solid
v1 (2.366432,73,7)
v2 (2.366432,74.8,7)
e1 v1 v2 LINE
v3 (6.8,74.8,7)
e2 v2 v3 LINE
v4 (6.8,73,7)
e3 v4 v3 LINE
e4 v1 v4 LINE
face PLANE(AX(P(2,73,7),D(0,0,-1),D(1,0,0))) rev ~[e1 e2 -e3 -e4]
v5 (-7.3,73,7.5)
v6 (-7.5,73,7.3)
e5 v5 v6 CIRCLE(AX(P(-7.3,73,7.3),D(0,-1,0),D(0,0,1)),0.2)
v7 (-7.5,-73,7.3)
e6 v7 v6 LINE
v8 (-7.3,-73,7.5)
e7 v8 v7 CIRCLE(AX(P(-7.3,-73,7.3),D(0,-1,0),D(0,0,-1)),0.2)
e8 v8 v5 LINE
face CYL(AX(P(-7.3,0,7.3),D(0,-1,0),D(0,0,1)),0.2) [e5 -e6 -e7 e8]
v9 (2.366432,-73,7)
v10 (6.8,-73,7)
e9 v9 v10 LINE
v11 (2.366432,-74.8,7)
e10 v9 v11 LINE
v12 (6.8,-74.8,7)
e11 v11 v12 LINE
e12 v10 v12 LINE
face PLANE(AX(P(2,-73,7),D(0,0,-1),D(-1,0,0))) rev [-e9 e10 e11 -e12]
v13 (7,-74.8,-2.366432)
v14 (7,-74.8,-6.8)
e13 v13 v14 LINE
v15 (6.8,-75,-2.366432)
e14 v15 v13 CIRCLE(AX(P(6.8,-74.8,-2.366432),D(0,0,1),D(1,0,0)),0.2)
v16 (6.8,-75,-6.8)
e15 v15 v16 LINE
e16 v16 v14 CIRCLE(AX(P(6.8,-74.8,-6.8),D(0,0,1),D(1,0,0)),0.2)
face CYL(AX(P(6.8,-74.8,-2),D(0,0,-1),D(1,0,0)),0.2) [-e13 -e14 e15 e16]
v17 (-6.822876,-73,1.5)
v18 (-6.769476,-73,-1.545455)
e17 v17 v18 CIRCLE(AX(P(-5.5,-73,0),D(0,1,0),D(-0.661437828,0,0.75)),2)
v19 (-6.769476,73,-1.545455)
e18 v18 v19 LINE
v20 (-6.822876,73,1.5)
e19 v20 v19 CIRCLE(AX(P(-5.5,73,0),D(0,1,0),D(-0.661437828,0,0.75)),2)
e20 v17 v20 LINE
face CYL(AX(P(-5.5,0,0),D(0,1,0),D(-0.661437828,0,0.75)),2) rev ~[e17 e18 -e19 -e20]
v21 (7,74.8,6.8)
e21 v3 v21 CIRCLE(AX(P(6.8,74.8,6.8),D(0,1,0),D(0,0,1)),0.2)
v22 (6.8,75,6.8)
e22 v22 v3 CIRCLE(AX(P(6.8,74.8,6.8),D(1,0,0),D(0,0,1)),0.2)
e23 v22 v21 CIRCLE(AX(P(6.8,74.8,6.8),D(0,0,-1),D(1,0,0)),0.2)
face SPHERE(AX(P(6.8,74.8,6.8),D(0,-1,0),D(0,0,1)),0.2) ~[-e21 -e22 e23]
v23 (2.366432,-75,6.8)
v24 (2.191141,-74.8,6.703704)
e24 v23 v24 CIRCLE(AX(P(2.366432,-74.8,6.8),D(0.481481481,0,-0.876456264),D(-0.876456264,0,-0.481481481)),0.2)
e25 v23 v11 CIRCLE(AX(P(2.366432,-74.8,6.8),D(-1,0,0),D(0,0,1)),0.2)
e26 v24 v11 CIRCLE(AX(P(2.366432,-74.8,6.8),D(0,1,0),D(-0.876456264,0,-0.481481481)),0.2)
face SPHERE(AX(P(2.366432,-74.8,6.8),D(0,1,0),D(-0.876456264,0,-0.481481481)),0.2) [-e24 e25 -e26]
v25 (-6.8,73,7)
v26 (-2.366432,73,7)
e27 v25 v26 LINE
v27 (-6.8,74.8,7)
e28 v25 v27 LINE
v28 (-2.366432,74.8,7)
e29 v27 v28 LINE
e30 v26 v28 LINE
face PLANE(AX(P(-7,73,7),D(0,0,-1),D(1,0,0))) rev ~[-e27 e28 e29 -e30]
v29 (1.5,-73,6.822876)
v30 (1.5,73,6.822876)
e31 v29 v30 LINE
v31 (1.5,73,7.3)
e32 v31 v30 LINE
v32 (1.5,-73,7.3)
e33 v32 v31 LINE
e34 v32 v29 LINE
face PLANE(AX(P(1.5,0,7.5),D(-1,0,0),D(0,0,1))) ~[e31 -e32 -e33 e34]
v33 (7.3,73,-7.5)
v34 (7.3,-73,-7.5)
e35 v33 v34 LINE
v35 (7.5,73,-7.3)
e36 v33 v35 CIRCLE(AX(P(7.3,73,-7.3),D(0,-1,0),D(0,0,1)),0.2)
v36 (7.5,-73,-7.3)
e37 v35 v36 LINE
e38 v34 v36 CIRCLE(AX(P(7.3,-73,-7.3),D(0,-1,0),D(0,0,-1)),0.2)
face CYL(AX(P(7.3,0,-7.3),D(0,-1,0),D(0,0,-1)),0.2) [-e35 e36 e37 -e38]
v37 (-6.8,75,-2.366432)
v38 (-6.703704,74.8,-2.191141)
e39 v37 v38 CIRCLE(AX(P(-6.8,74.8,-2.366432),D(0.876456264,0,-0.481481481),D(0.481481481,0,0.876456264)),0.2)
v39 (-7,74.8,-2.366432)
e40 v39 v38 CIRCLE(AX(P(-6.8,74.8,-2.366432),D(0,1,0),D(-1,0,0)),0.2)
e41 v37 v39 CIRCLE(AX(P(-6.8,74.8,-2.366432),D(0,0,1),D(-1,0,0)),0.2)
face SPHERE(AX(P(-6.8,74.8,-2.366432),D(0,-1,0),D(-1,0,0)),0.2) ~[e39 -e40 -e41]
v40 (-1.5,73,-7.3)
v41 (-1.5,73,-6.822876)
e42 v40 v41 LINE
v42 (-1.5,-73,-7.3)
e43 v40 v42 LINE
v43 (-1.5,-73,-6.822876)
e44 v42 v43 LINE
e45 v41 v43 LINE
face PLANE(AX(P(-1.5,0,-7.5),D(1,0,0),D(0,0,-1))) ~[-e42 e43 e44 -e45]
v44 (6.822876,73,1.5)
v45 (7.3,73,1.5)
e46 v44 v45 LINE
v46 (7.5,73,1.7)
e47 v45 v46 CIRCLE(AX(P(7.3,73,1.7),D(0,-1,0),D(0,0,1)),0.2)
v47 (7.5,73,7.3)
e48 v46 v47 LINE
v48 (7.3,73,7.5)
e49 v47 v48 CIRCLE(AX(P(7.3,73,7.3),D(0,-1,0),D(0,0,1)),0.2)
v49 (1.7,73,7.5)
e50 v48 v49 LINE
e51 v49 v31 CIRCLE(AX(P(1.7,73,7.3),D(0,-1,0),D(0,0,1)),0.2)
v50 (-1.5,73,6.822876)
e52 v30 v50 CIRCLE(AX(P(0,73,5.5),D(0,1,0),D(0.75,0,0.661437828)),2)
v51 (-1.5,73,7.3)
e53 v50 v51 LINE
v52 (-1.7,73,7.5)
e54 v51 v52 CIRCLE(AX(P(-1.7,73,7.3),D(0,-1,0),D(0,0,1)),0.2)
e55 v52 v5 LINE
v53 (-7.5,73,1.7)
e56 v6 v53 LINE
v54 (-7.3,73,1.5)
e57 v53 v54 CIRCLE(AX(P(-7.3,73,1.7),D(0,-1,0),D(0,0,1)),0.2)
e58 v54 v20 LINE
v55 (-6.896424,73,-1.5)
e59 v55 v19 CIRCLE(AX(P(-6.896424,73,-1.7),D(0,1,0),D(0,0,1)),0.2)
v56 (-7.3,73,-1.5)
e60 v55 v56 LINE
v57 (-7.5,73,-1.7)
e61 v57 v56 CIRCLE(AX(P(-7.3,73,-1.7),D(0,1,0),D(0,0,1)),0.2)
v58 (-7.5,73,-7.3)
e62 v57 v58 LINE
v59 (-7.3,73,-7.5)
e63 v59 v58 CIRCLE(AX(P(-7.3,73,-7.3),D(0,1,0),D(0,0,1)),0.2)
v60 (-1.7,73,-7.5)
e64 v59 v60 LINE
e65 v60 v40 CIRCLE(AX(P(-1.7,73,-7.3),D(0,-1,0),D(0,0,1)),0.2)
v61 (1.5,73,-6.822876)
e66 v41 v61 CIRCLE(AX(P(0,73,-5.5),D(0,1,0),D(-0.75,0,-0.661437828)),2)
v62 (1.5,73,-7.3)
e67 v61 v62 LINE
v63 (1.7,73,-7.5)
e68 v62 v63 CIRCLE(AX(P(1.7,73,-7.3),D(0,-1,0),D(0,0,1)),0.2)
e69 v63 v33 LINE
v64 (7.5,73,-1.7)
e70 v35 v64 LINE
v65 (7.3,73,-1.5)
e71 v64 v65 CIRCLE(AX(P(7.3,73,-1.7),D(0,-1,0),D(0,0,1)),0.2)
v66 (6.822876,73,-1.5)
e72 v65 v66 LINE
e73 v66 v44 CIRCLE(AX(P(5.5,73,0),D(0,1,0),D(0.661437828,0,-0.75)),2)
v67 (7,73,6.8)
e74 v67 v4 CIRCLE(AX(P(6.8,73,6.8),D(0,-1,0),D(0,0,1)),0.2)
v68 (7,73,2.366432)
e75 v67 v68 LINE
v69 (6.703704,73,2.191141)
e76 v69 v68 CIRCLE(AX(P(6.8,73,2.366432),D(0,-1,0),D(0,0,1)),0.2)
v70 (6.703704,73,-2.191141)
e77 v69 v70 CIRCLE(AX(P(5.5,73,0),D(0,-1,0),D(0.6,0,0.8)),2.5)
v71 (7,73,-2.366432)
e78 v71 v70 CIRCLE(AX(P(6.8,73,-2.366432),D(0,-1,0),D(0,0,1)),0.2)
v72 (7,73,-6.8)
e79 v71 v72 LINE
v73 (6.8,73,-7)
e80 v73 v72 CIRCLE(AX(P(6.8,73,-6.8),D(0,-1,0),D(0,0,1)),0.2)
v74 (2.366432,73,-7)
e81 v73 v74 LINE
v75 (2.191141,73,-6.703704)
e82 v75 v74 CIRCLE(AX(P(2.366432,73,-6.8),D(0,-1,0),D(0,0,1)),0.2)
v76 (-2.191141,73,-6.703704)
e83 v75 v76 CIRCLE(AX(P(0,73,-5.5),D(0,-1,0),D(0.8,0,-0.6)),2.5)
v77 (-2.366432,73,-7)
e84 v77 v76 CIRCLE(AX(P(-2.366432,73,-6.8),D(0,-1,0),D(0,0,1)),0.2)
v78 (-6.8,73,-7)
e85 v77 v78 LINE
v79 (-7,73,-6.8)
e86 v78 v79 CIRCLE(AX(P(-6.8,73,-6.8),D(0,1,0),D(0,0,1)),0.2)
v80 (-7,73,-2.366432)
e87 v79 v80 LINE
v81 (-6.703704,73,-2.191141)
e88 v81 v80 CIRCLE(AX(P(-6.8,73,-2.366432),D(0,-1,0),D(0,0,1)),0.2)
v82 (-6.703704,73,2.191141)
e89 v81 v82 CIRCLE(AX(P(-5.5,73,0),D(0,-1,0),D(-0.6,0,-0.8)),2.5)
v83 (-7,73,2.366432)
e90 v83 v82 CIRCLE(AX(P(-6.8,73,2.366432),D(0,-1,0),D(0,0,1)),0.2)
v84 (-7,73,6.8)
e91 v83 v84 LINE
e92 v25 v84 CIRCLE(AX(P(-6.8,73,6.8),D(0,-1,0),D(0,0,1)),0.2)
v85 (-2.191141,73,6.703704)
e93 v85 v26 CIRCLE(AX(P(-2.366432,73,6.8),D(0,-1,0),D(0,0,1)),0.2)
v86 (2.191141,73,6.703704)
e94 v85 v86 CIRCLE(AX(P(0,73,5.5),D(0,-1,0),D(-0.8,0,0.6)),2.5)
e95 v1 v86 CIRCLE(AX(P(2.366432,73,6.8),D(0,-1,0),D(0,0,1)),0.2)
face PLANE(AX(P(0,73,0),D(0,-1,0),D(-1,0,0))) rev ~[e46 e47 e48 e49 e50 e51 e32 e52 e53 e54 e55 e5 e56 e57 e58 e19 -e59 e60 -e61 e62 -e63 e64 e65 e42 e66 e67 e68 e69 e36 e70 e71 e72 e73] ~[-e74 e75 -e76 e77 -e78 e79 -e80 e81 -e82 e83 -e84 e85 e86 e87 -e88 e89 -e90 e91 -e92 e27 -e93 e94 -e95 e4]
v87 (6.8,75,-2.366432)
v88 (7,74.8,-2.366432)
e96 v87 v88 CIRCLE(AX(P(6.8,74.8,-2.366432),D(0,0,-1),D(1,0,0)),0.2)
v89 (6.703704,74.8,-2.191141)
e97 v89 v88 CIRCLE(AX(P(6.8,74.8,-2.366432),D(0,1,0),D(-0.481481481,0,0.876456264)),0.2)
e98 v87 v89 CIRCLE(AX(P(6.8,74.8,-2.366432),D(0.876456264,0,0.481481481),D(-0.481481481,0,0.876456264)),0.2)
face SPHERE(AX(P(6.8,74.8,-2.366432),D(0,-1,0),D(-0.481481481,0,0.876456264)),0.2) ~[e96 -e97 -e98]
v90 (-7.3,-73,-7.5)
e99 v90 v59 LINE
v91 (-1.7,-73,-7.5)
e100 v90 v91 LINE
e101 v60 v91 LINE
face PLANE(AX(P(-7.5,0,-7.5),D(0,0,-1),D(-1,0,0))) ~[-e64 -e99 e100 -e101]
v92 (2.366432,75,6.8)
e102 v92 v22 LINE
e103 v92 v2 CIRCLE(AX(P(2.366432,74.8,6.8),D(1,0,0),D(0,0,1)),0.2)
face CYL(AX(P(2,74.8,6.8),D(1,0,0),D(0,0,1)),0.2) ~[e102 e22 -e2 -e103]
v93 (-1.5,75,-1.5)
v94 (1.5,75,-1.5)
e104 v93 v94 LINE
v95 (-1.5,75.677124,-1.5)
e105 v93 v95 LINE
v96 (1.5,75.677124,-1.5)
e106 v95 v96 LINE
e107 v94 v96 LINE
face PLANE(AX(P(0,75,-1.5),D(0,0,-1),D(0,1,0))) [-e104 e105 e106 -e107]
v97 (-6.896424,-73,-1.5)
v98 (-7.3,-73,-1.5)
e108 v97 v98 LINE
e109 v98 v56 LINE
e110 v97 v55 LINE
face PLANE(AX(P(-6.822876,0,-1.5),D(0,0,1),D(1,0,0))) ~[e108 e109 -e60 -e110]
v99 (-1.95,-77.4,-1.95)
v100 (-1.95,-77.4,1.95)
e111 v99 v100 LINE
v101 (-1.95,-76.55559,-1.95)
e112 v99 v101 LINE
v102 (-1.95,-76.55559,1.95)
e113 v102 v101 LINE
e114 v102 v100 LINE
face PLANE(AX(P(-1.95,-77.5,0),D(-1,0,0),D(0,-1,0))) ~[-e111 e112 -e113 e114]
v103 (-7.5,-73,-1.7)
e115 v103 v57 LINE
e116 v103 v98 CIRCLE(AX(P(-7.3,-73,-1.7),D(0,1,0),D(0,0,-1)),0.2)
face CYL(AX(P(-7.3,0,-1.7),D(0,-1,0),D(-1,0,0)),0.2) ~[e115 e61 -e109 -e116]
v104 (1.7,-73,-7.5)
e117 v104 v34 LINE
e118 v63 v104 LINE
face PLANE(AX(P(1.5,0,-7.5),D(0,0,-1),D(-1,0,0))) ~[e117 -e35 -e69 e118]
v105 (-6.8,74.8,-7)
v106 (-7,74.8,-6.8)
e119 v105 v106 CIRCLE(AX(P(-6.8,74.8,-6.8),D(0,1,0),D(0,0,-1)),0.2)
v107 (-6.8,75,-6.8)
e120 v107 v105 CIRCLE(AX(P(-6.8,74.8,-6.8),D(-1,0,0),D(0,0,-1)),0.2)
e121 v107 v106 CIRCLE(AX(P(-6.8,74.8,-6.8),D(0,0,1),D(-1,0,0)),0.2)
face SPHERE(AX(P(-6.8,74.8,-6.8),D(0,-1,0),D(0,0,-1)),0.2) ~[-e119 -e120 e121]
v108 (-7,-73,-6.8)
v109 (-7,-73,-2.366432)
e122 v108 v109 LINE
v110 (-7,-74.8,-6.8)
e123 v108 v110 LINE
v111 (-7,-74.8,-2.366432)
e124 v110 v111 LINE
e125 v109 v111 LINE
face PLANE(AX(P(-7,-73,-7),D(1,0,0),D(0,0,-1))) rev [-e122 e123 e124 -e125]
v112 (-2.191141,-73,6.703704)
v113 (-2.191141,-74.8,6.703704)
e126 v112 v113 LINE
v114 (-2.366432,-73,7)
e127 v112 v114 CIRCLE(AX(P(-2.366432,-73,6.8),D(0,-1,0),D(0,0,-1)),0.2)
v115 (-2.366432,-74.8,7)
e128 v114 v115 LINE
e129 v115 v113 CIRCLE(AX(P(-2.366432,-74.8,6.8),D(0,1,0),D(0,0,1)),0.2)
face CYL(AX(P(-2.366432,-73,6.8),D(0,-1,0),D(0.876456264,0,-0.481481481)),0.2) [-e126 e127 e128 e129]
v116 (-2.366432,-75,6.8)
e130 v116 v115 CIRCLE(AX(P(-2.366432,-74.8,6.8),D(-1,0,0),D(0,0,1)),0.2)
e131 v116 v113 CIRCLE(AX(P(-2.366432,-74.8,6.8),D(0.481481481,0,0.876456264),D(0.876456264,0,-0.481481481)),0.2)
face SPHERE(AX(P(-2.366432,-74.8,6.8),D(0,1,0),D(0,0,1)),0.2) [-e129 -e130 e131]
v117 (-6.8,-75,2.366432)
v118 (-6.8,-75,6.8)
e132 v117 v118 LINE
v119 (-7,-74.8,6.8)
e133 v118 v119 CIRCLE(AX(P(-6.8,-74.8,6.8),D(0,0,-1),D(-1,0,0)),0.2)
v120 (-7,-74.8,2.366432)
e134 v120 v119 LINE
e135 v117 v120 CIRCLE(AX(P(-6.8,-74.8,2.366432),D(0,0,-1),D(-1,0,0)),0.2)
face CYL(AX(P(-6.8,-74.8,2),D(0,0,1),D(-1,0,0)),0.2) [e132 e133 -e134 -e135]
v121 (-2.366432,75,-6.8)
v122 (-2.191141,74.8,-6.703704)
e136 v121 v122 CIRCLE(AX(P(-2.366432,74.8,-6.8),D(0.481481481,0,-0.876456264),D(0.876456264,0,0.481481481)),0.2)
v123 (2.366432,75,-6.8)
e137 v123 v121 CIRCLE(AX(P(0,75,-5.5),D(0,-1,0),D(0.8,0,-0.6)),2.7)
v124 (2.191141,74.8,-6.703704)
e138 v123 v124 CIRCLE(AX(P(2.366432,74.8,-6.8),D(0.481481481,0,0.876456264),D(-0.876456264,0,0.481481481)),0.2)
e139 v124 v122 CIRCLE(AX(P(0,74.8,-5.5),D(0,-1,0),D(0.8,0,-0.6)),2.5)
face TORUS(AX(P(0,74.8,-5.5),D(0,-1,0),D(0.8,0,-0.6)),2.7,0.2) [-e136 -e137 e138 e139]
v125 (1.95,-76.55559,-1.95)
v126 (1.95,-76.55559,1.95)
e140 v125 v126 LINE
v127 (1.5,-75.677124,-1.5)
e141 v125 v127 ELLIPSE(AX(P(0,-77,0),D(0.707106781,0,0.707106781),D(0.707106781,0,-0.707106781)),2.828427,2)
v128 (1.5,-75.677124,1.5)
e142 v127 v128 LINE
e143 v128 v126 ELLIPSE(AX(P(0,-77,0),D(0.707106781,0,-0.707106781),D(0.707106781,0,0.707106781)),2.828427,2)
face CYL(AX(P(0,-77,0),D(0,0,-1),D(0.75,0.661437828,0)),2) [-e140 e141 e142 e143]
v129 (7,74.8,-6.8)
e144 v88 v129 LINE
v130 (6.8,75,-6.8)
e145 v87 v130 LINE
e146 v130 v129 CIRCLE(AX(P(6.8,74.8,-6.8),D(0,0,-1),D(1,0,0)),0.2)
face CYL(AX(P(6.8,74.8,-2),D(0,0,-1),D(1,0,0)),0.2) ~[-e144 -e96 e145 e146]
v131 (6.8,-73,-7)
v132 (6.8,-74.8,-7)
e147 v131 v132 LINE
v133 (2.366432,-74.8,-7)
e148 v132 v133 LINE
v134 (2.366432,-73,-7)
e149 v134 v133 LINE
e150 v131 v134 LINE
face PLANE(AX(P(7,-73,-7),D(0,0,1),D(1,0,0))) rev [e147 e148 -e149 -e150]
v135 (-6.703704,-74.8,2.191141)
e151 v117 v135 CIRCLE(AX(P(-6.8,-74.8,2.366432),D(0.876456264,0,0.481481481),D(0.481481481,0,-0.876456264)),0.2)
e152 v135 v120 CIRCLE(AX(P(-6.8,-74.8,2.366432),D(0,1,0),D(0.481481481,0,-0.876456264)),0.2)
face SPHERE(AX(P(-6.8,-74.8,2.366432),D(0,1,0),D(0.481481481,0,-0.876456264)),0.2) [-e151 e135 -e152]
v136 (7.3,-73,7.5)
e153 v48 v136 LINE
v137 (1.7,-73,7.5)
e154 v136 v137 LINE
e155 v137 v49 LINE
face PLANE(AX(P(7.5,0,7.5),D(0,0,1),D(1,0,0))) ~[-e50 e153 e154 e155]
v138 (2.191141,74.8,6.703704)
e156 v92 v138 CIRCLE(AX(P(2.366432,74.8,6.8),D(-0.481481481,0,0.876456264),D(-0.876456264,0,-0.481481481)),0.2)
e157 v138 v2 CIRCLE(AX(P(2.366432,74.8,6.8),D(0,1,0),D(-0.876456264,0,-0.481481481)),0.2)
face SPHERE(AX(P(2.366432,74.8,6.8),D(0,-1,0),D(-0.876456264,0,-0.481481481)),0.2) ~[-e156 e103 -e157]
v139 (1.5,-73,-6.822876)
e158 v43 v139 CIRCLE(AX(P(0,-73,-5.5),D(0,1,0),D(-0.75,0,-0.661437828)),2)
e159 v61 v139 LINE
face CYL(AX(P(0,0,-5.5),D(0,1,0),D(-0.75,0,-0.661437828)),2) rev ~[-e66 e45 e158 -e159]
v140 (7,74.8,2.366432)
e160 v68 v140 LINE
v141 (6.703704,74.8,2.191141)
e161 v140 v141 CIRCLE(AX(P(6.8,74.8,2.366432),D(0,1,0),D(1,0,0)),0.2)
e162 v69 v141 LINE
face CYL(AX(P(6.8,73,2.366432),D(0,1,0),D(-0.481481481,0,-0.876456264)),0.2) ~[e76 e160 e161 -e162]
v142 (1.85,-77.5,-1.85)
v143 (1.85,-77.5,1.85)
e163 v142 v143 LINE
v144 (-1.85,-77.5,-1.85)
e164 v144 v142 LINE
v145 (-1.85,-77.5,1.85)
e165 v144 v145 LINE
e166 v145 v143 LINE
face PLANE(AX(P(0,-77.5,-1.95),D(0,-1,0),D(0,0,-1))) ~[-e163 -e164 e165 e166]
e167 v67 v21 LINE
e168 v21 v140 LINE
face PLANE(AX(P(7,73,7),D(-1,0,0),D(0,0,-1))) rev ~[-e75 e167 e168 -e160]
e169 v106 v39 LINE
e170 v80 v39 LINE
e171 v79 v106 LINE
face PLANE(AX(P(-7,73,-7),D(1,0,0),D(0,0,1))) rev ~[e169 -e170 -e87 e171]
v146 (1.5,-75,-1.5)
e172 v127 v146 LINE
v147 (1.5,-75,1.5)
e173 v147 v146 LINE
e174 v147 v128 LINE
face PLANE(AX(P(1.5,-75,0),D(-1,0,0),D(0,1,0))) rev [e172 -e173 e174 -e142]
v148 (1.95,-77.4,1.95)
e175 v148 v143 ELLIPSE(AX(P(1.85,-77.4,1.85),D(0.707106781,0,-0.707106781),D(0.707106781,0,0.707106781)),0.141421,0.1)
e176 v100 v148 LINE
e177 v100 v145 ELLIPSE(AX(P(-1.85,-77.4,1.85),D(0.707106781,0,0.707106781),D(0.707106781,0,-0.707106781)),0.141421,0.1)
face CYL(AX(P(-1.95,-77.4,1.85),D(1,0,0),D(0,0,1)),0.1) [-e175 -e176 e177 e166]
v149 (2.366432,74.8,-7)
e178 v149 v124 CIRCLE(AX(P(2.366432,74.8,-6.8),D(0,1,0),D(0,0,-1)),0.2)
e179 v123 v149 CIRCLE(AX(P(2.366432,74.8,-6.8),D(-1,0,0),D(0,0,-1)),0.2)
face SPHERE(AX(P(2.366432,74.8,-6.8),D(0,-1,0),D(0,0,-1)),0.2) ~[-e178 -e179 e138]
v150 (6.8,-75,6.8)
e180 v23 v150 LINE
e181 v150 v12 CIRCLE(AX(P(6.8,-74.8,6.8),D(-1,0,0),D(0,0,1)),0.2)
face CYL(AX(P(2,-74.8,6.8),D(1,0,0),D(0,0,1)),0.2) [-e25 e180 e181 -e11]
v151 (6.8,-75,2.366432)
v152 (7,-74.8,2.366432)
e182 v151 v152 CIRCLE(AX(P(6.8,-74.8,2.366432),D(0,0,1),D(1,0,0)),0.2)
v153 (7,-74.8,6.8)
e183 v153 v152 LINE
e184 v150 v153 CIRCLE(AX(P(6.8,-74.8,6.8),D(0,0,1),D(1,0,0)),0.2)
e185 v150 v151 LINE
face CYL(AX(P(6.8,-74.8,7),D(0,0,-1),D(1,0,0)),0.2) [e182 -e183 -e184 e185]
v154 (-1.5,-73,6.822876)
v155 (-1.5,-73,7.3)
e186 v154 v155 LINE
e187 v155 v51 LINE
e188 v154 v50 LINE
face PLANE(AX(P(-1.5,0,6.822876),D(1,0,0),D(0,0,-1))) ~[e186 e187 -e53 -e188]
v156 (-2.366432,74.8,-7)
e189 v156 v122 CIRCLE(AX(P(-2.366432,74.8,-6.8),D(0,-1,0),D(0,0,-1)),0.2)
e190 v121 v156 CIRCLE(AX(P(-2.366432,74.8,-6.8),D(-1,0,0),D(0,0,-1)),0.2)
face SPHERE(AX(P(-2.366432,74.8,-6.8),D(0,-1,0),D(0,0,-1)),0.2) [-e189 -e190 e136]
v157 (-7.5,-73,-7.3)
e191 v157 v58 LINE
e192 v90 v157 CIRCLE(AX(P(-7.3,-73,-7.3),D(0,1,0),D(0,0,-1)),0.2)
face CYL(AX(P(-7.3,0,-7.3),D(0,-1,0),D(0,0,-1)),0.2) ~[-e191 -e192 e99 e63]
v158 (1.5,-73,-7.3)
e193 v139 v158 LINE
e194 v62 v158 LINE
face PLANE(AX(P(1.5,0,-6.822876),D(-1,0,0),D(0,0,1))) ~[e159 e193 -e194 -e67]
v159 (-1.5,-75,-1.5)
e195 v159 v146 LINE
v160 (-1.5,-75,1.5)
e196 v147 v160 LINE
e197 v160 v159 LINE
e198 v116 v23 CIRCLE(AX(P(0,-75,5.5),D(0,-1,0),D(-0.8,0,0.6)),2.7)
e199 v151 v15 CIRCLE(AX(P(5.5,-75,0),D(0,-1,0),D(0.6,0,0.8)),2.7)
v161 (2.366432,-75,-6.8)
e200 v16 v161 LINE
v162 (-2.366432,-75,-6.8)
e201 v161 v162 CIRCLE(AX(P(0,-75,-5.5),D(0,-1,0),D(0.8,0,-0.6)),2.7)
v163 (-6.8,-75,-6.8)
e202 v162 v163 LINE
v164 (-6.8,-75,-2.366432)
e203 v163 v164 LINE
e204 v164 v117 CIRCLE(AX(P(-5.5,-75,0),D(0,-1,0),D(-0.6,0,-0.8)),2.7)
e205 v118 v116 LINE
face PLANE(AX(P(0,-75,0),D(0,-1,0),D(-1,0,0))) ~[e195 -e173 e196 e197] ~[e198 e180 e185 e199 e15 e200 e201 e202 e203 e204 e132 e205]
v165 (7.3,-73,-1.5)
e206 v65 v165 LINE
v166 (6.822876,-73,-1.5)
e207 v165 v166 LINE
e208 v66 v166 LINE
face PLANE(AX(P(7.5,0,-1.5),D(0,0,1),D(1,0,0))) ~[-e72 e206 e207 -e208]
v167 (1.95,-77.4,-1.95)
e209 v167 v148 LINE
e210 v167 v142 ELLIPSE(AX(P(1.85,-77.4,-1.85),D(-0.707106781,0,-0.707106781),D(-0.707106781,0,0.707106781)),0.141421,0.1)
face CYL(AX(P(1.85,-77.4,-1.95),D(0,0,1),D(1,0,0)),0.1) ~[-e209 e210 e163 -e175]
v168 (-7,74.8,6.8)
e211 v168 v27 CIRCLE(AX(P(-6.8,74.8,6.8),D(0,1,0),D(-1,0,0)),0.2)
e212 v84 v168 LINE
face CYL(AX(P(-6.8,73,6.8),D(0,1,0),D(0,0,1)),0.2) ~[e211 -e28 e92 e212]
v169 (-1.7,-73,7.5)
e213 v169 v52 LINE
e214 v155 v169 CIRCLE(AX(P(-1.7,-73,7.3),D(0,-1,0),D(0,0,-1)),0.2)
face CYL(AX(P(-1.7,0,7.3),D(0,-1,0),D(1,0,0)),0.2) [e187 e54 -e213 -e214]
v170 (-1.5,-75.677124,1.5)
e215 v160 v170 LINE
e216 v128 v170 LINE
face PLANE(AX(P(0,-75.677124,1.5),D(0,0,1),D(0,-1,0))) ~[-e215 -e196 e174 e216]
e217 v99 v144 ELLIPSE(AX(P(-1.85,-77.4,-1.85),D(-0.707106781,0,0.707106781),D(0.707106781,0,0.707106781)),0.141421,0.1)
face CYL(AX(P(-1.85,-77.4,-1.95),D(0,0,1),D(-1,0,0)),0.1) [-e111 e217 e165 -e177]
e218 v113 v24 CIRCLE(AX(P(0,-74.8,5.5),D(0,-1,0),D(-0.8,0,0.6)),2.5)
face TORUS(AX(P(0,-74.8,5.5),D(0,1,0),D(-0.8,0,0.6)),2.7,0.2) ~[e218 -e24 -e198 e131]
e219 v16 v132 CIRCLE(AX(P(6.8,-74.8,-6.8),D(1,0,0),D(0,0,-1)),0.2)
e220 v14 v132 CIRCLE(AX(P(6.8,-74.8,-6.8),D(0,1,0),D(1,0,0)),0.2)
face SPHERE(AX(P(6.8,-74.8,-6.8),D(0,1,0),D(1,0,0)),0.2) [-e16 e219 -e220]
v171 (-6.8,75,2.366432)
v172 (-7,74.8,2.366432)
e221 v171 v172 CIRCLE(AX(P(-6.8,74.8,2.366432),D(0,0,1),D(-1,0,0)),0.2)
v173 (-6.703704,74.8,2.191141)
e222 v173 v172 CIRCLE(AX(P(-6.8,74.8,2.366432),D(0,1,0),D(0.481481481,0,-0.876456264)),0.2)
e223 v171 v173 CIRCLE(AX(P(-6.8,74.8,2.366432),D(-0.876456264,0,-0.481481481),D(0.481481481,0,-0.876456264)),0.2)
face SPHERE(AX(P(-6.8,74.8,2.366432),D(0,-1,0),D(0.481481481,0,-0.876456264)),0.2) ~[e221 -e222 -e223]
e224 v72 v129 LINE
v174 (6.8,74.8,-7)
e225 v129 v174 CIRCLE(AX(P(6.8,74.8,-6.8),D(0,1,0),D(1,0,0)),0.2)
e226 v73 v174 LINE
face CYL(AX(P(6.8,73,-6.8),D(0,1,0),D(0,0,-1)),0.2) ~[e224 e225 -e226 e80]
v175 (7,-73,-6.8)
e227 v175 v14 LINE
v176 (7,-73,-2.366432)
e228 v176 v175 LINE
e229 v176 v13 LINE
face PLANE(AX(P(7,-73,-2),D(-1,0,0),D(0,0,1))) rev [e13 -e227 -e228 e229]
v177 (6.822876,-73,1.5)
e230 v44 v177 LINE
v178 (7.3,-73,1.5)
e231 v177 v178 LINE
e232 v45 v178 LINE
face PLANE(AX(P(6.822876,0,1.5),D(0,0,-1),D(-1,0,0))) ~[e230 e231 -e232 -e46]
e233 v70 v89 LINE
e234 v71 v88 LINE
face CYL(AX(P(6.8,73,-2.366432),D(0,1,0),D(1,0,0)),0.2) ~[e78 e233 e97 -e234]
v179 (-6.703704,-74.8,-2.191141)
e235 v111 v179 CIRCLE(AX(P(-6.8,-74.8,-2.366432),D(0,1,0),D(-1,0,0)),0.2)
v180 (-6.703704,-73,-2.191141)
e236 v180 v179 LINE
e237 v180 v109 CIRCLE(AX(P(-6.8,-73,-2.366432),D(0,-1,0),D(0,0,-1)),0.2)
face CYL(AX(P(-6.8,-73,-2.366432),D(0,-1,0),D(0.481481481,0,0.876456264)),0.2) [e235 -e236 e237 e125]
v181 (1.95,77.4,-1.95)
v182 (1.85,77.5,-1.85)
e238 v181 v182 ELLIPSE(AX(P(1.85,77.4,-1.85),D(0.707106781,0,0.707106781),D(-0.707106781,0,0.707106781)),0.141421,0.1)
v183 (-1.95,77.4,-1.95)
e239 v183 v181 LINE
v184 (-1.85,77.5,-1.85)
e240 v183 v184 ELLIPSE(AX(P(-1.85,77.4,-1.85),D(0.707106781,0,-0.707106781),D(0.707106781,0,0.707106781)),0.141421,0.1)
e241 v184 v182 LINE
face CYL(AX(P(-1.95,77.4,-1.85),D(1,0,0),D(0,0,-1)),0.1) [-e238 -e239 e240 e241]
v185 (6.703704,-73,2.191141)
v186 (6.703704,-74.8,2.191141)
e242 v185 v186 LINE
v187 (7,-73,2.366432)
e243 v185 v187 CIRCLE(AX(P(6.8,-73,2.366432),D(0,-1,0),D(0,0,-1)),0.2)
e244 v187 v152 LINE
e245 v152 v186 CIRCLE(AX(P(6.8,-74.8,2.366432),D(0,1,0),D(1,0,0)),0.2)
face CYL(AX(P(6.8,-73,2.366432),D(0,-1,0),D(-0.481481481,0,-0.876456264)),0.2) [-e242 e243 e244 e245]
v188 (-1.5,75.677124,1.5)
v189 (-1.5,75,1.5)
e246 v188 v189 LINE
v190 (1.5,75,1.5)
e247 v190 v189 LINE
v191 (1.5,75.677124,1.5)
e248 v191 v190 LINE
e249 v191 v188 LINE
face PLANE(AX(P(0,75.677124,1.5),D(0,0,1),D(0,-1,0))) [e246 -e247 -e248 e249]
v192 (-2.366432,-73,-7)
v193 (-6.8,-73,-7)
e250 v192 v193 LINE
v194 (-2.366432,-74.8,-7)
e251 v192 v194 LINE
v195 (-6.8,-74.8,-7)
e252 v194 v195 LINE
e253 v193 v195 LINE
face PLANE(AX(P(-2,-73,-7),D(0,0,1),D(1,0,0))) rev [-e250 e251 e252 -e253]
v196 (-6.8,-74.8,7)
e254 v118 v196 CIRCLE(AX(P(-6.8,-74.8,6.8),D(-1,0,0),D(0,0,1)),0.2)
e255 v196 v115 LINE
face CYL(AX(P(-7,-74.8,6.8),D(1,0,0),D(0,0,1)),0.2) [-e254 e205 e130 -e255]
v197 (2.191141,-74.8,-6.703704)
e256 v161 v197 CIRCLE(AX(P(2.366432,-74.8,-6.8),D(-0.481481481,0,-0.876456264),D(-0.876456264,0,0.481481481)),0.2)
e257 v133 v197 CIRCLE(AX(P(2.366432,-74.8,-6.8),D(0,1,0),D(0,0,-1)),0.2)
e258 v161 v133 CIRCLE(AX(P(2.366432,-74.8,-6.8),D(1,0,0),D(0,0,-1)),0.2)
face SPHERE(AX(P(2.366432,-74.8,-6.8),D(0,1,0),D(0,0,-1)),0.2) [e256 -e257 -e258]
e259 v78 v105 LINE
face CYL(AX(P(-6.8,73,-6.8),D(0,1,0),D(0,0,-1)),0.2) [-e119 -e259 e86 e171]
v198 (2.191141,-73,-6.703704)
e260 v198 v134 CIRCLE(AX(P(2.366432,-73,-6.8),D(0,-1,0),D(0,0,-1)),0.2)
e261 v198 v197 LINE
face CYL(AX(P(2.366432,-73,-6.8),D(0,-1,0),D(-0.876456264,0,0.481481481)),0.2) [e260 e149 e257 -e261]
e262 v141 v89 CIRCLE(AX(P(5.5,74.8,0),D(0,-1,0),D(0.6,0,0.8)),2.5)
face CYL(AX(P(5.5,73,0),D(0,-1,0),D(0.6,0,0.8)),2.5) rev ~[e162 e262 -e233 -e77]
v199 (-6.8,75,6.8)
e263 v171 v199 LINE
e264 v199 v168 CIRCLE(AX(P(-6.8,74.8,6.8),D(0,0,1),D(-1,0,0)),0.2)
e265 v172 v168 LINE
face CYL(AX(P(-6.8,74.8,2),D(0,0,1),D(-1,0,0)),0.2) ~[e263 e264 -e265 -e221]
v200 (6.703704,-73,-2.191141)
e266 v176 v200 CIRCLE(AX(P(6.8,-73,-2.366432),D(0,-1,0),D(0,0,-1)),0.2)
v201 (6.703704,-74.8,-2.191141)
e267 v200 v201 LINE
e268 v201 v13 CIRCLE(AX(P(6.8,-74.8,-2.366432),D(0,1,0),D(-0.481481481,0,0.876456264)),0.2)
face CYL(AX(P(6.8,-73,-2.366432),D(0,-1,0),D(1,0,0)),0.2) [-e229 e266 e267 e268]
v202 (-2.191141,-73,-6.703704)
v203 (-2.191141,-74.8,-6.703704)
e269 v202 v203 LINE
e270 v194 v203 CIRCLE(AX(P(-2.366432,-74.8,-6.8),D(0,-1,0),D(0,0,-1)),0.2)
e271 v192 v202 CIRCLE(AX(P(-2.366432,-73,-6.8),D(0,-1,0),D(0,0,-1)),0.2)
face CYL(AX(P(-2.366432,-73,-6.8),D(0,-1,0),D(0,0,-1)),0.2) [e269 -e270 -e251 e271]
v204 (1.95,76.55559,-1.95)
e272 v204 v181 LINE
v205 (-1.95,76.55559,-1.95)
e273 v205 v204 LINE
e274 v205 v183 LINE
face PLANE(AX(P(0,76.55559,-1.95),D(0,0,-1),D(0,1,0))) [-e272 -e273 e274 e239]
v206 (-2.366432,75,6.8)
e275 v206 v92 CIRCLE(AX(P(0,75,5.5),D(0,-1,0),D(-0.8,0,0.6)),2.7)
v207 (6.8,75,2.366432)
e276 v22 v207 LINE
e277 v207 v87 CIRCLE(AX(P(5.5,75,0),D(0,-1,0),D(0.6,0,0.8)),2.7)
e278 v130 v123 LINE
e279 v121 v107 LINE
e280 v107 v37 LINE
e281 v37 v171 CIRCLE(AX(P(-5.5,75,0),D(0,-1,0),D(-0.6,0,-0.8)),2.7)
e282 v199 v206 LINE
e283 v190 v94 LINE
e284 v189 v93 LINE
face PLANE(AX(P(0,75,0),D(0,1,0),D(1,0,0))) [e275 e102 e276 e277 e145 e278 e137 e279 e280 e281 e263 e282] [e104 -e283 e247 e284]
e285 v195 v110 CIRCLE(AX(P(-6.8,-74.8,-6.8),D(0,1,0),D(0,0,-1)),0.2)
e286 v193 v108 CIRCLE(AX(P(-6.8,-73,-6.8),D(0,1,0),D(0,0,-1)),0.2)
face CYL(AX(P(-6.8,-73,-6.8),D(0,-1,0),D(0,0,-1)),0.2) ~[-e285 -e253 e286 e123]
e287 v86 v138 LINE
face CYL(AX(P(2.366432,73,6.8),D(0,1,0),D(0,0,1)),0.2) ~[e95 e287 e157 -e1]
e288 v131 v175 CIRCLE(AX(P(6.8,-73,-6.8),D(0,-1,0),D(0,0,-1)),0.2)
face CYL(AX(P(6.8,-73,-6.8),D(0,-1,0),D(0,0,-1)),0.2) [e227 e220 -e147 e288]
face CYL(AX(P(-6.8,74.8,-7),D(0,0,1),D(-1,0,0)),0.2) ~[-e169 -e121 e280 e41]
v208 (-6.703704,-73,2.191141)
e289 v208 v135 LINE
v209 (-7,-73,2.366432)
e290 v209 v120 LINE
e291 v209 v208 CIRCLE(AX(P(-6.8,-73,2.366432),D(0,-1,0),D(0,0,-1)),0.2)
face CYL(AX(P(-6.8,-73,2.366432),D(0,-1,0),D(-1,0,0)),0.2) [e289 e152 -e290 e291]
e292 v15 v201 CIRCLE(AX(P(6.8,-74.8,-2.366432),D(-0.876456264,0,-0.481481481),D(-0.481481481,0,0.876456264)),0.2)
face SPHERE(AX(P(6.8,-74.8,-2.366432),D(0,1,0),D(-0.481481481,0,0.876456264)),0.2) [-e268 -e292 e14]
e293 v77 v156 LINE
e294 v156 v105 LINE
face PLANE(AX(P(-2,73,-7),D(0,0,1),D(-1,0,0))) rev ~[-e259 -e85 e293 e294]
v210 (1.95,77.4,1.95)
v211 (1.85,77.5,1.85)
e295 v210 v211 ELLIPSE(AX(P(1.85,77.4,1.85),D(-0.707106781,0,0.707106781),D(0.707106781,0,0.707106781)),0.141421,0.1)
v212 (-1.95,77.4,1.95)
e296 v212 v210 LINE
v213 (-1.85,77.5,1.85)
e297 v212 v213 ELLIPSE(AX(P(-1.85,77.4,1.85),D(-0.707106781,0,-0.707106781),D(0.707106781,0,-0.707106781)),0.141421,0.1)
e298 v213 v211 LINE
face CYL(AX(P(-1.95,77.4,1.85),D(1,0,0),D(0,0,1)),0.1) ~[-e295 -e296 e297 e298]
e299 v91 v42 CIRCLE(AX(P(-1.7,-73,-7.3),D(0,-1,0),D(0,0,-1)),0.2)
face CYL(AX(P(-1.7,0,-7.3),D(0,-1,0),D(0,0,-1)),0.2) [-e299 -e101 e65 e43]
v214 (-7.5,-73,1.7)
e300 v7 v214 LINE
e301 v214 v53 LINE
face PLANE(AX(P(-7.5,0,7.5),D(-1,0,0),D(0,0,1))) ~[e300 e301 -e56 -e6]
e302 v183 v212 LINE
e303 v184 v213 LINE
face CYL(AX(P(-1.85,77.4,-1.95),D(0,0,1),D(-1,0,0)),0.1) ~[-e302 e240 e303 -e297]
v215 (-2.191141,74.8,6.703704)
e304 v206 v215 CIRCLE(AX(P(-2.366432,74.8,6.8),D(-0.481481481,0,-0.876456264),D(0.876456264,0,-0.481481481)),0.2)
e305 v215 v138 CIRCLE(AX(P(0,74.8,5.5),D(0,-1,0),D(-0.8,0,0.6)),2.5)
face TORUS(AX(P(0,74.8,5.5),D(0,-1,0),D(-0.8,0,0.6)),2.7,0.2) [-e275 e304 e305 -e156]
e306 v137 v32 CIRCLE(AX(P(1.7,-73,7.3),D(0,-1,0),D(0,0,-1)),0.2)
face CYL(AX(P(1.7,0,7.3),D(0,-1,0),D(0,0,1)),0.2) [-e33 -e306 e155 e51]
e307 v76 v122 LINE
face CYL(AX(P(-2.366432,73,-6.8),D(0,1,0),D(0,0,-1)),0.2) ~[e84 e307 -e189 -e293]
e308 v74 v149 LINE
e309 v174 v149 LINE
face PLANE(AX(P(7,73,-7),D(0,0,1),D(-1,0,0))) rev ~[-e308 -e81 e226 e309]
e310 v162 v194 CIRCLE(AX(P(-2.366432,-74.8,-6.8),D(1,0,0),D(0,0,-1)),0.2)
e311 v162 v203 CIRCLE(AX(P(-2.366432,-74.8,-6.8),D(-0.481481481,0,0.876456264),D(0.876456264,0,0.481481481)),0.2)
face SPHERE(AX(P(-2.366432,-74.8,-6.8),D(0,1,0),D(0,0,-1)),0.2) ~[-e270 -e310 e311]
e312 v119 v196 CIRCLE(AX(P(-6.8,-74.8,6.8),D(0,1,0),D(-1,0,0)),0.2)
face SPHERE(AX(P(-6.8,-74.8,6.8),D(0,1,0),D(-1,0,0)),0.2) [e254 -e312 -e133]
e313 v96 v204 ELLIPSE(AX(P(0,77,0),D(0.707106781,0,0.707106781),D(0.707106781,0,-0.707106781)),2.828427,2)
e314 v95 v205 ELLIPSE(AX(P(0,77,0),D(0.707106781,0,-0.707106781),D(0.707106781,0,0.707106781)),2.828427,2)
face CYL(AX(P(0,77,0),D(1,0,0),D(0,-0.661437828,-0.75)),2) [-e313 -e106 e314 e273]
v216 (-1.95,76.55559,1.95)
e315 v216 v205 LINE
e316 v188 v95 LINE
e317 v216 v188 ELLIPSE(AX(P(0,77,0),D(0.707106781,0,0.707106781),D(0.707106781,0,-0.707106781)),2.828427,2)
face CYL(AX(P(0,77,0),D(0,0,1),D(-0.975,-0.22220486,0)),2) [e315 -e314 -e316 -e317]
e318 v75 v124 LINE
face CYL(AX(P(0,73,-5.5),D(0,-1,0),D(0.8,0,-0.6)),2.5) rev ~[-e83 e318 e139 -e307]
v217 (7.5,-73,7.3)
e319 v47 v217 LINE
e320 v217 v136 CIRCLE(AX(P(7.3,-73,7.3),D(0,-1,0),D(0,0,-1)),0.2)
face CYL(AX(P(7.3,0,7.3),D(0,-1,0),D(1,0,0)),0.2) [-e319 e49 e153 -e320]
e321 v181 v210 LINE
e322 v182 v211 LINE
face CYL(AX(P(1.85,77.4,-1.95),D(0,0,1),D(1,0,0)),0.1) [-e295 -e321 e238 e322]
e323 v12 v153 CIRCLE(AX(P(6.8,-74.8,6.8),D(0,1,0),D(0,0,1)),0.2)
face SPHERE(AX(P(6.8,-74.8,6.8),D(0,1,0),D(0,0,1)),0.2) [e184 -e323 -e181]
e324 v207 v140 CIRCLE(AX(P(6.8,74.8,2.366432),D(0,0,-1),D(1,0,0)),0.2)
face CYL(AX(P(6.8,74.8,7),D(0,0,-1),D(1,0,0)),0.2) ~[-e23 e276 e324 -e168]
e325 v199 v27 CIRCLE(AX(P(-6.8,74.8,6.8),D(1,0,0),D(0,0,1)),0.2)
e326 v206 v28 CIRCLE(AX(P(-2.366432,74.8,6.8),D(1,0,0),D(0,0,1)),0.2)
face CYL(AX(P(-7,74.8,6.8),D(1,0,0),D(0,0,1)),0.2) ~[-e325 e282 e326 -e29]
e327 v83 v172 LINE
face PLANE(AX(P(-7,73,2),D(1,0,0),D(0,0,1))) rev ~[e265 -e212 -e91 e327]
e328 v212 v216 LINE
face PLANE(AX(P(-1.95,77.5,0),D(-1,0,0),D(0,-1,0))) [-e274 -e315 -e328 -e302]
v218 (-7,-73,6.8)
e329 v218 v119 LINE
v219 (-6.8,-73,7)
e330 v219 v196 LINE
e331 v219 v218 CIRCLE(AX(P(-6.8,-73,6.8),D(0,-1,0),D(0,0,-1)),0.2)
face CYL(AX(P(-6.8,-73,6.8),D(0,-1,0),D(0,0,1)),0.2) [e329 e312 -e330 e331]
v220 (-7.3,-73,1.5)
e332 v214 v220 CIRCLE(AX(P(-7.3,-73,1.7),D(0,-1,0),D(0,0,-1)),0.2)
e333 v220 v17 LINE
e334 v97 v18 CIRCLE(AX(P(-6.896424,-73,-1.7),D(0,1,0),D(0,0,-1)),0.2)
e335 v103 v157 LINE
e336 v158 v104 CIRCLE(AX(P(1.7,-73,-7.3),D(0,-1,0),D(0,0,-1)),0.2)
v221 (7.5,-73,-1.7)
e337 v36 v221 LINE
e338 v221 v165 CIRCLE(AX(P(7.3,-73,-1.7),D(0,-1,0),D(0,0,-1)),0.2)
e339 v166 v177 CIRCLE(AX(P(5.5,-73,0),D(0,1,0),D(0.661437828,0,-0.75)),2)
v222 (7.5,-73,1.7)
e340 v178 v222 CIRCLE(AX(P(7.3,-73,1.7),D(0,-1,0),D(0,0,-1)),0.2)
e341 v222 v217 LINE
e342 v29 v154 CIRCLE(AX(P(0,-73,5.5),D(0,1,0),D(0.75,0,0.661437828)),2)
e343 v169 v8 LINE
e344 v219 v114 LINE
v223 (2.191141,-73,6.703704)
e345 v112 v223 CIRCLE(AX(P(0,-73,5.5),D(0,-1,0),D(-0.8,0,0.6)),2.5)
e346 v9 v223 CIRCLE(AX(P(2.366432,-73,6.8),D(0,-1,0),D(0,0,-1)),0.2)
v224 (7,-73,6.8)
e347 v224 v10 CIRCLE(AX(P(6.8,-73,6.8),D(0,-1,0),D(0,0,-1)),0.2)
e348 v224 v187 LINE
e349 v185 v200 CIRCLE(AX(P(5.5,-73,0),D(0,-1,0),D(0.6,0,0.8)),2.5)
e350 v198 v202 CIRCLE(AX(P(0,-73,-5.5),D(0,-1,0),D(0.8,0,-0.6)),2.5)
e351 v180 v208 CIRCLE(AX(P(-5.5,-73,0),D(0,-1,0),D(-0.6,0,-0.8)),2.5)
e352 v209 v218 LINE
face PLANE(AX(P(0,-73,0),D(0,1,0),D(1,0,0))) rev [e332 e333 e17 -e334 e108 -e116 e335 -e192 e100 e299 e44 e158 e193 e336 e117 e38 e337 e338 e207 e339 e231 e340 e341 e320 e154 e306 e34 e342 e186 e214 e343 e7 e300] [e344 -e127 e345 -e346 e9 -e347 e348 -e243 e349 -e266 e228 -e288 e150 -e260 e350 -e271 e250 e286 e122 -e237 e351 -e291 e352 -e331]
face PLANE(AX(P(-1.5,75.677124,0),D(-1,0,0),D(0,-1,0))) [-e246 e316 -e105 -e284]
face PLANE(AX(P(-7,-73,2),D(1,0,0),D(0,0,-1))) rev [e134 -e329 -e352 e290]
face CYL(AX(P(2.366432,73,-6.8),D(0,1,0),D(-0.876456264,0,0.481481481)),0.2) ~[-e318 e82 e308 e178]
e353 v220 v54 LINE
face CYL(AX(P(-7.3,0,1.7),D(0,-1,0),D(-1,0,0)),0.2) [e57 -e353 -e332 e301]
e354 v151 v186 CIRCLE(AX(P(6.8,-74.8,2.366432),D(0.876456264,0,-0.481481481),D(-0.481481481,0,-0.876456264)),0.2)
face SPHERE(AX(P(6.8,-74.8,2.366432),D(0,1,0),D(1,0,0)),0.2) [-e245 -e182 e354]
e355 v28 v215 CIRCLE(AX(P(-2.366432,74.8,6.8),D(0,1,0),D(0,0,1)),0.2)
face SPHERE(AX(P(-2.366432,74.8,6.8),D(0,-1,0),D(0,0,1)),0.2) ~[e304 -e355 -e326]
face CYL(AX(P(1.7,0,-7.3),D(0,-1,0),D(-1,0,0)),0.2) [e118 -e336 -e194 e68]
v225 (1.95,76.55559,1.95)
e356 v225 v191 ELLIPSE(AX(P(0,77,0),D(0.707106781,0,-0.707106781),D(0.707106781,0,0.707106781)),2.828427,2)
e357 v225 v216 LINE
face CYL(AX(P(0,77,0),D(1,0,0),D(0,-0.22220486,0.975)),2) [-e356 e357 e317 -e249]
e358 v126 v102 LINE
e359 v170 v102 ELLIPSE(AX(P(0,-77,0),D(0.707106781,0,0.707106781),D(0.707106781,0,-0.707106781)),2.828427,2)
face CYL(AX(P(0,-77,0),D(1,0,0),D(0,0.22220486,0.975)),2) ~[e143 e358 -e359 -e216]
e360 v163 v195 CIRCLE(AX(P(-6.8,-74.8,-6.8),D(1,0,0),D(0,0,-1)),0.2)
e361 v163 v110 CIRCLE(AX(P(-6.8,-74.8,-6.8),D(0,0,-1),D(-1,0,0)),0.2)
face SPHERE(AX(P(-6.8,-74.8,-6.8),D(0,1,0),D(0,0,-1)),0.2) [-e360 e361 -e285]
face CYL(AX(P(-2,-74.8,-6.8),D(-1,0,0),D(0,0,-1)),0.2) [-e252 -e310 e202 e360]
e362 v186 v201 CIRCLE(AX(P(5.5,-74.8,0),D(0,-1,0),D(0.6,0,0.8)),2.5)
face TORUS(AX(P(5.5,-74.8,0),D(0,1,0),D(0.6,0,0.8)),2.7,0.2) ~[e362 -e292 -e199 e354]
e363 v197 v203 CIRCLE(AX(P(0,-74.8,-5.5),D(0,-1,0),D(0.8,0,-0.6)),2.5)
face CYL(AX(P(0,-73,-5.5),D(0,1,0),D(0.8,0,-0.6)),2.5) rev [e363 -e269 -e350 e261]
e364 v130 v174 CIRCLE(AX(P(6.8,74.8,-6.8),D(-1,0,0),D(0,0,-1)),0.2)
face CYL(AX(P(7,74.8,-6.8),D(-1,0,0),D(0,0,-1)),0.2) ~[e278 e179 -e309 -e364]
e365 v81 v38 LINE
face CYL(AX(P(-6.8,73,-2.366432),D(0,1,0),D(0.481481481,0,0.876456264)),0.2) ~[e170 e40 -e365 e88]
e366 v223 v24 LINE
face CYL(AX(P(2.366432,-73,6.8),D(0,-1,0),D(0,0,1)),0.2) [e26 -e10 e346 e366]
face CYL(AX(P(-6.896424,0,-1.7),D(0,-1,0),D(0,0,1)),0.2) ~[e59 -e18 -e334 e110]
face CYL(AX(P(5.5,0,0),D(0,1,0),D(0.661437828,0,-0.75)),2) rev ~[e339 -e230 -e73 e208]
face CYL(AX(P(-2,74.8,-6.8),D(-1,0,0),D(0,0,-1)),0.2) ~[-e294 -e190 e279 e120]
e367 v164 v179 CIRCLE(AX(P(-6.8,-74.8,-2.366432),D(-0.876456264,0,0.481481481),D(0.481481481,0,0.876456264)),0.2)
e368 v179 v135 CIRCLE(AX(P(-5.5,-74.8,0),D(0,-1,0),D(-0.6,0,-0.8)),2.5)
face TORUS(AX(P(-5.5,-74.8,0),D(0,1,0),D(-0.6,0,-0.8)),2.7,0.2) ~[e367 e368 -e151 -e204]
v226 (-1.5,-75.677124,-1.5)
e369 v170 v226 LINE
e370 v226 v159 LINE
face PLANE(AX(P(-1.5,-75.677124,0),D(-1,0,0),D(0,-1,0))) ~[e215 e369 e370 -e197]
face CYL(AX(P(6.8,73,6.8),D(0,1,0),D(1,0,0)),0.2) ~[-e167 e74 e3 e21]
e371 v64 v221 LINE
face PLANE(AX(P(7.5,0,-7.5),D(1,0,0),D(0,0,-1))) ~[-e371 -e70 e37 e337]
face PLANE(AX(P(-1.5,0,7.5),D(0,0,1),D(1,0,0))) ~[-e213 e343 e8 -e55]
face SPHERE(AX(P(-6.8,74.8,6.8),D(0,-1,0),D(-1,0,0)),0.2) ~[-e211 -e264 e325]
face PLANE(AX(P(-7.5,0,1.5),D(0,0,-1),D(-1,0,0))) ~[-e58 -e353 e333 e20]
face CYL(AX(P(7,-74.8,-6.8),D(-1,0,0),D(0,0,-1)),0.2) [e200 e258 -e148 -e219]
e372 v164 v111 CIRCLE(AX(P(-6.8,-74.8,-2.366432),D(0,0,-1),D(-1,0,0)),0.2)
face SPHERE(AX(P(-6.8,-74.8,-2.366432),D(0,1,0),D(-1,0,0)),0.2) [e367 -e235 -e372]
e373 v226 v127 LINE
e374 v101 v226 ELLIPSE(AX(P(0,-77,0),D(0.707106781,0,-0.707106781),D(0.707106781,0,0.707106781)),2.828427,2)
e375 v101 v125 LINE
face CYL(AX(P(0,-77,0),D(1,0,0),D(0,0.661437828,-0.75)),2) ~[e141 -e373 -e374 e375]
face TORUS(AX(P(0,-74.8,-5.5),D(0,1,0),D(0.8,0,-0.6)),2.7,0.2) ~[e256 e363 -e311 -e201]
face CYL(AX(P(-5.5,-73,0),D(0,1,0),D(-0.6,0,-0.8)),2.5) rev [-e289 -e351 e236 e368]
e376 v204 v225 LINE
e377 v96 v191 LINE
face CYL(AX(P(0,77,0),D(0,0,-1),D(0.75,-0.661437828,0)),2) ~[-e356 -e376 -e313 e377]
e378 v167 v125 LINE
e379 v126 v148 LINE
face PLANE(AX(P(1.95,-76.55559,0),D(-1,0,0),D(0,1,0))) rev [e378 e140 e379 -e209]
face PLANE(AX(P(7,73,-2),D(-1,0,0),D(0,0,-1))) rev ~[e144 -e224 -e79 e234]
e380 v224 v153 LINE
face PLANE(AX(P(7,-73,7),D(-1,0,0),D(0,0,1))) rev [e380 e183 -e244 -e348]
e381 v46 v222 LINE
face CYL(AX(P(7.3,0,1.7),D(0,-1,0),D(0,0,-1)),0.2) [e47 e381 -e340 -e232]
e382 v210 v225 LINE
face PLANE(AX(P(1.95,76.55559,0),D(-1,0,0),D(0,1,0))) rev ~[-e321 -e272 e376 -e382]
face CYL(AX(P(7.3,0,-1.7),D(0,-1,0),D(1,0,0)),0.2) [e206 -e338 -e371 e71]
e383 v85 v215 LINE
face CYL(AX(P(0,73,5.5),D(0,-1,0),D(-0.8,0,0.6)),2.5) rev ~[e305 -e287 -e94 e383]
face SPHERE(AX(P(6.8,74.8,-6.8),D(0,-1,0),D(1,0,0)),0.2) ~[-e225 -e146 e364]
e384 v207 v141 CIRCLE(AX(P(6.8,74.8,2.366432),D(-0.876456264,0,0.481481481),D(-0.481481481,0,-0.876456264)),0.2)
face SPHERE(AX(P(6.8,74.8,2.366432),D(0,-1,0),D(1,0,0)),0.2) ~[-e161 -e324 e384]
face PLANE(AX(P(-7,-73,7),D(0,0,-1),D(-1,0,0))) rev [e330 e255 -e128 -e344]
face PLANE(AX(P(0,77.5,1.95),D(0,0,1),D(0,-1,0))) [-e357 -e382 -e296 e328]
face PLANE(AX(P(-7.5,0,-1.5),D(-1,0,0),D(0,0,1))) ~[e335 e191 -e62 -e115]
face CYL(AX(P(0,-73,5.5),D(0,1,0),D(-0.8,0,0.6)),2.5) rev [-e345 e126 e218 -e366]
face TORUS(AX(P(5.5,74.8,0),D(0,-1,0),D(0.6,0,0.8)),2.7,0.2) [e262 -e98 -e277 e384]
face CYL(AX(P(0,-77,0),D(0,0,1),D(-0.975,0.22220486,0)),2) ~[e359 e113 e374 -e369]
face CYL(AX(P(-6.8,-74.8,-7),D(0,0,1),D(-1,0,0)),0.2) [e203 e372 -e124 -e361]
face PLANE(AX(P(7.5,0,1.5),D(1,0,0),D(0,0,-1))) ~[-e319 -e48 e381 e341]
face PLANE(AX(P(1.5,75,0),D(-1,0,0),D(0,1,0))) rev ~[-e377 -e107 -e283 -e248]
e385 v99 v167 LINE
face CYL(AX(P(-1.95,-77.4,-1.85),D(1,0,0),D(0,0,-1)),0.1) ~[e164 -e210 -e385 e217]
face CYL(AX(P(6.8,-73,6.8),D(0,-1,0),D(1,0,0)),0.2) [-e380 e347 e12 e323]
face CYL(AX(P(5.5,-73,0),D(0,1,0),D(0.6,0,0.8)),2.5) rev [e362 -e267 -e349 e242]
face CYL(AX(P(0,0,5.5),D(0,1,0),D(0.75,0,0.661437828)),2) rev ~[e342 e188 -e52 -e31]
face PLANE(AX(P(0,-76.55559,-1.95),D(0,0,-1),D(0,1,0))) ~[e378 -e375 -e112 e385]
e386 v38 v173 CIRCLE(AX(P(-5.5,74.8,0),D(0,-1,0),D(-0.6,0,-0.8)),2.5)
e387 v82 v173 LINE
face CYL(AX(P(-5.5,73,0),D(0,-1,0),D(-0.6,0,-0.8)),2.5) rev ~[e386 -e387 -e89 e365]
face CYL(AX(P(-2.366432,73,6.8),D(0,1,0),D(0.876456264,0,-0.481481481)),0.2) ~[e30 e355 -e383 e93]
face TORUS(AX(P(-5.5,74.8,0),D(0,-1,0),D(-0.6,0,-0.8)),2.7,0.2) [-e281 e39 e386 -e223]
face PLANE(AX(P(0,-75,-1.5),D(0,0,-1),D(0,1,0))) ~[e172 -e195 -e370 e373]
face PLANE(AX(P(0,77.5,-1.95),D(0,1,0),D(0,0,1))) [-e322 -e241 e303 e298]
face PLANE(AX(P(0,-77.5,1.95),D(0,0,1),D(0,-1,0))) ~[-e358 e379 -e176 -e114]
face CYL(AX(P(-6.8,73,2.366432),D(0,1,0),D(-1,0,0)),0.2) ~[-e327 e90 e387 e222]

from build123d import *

# Parameters (mm, degrees)
EXTRUDE_1_DEPTH        = 73
EXTRUDE_2_DEPTH        = 2
EXTRUDE_3_DEPTH        = 2
FILLET_3_R             = 0.2
CUT_EXTRUDE_1_DEPTH    = 3
FILLET_4_R             = 0.2
FILLET_5_R             = 0.1
FILLET_3_OF_MIRROR_1_R = 0.2
FILLET_4_OF_MIRROR_1_R = 0.2
FILLET_5_OF_MIRROR_1_R = 0.1


with BuildPart() as part:
    # 草图1 → 凸台-拉伸1 (new body)
    with BuildSketch(Plane(origin=(0, 0, 0), x_dir=(1, 0, 0), z_dir=(0, 1, 0))):
        with BuildLine():
            Line((-7.5, 7.5), (-1.5, 7.5))
            Line((-1.5, 7.5), (-1.5, 6.822875656))
            ThreePointArc((-1.5, 6.822875656), (0, 3.5), (1.5, 6.822875656))
            Line((1.5, 6.822875656), (1.5, 7.5))
            Line((1.5, 7.5), (7.5, 7.5))
            Line((7.5, 7.5), (7.5, 1.5))
            Line((7.5, 1.5), (6.822875656, 1.5))
            ThreePointArc((6.822875656, 1.5), (3.5, 0), (6.822875656, -1.5))
            Line((6.822875656, -1.5), (7.5, -1.5))
            Line((7.5, -1.5), (7.5, -7.5))
            Line((7.5, -7.5), (1.5, -7.5))
            Line((1.5, -7.5), (1.5, -6.822875656))
            ThreePointArc((1.5, -6.822875656), (0, -3.5), (-1.5, -6.822875656))
            Line((-1.5, -6.822875656), (-1.5, -7.5))
            Line((-1.5, -7.5), (-7.5, -7.5))
            Line((-7.5, -7.5), (-7.5, -1.5))
            Line((-7.5, -1.5), (-6.822875656, -1.5))
            ThreePointArc((-6.822875656, -1.5), (-3.5, 0), (-6.822875656, 1.5))
            Line((-6.822875656, 1.5), (-7.5, 1.5))
            Line((-7.5, 1.5), (-7.5, 7.5))
        make_face()
    extrude_1 = extrude(amount=EXTRUDE_1_DEPTH)

    # 草图2 → 凸台-拉伸2 (add)
    with BuildSketch(Plane(origin=(0, 73, 0), x_dir=(1, 0, 0), z_dir=(0, 1, 0))):
        with BuildLine():
            Line((-7, 7), (-7, 2))
            ThreePointArc((-7, 2), (-3, 0), (-7, -2))
            Line((-7, -2), (-7, -7))
            Line((-7, -7), (-2, -7))
            ThreePointArc((-2, -7), (0, -3), (2, -7))
            Line((2, -7), (7, -7))
            Line((7, -7), (7, -2))
            ThreePointArc((7, -2), (3, 0), (7, 2))
            Line((7, 2), (7, 7))
            Line((7, 7), (2, 7))
            ThreePointArc((2, 7), (0, 3), (-2, 7))
            Line((-2, 7), (-7, 7))
        make_face()
    extrude_2 = extrude(amount=EXTRUDE_2_DEPTH)

    # 草图3 → 凸台-拉伸3 (add, symmetric)
    with BuildSketch(Plane(origin=(0, 0, 0), x_dir=(0, 0, -1), z_dir=(1, 0, 0))):
        with BuildLine():
            Line((-1.5, 75), (1.5, 75))
            Line((1.5, 75), (1.5, 75.677124344))
            ThreePointArc((1.5, 75.677124344), (1.780042303, 76.088161527), (1.95, 76.555590279))
            Line((1.95, 76.555590279), (1.95, 77.5))
            Line((1.95, 77.5), (-1.95, 77.5))
            Line((-1.95, 77.5), (-1.95, 76.555590279))
            ThreePointArc((-1.95, 76.555590279), (-1.780042303, 76.088161527), (-1.5, 75.677124344))
            Line((-1.5, 75.677124344), (-1.5, 75))
        make_face()
    extrude_3 = extrude(amount=EXTRUDE_3_DEPTH, both=True)

    # 圆角3
    fillet_3_edges = [part.edges().sort_by_distance(p)[0] for p in [
        (-7.5, 36.5, -7.5),
        (-1.5, 36.5, -7.5),
        (1.5, 36.5, -7.5),
        (7.5, 36.5, -7.5),
        (7.5, 36.5, -1.5),
        (7.5, 36.5, 1.5),
        (7.5, 36.5, 7.5),
        (1.5, 36.5, 7.5),
        (-1.5, 36.5, 7.5),
        (-7.5, 36.5, 7.5),
        (-7.5, 36.5, 1.5),
        (-6.822875656, 36.5, -1.5),
        (-7.5, 36.5, -1.5),
    ]]
    fillet(fillet_3_edges, radius=FILLET_3_R)

    # 草图4 → 切除-拉伸1 (cut, symmetric)
    with BuildSketch(Plane.XY):
        with BuildLine():
            Line((1.95, 77.5), (2, 77.5))
            Line((2, 77.5), (2, 75))
            Line((2, 75), (1.5, 75))
            Line((1.5, 75), (1.5, 75.677124344))
            ThreePointArc((1.5, 75.677124344), (1.780042303, 76.088161527), (1.95, 76.555590279))
            Line((1.95, 76.555590279), (1.95, 77.5))
        make_face()
        with BuildLine():
            Line((-1.95, 77.5), (-1.95, 76.555590279))
            ThreePointArc((-1.95, 76.555590279), (-1.780042303, 76.088161527), (-1.5, 75.677124344))
            Line((-1.5, 75.677124344), (-1.5, 75))
            Line((-1.5, 75), (-2, 75))
            Line((-2, 75), (-2, 77.5))
            Line((-2, 77.5), (-1.95, 77.5))
        make_face()
    cut_extrude_1 = extrude(amount=CUT_EXTRUDE_1_DEPTH, both=True, mode=Mode.SUBTRACT)

    # 圆角4
    fillet_4_edges = [part.edges().sort_by_distance(p)[0] for p in [
        (-2, 74, -7),
        (-7, 74, -7),
        (-7, 74, -2),
        (-7, 74, 2),
        (-7, 74, 7),
        (-2, 74, 7),
        (2, 74, 7),
        (7, 74, 7),
        (7, 74, 2),
        (7, 74, -2),
        (7, 74, -7),
        (2, 74, -7),
        (-4.5, 75, -7),
        (-7, 75, -4.5),
        (-3, 75, 0),
        (-7, 75, 4.5),
        (-4.5, 75, 7),
        (0, 75, 3),
        (4.5, 75, 7),
        (7, 75, 4.5),
        (3, 75, 0),
        (7, 75, -4.5),
        (4.5, 75, -7),
        (0, 75, -3),
    ]]
    fillet(fillet_4_edges, radius=FILLET_4_R)

    # 圆角5
    fillet_5_edges = [part.edges().sort_by_distance(p)[0] for p in [
        (1.95, 77.5, 0),
        (0, 77.5, -1.95),
        (0, 77.5, 1.95),
        (-1.95, 77.5, 0),
    ]]
    fillet(fillet_5_edges, radius=FILLET_5_R)


with BuildPart() as mirror_1_1:
    # 镜向1: 凸台-拉伸1, 凸台-拉伸2, 凸台-拉伸3 across Top Plane
    add(extrude_1.mirror(Plane(origin=(0, 0, 0), x_dir=(1, 0, 0), z_dir=(0, 1, 0))))
    add(extrude_2.mirror(Plane(origin=(0, 0, 0), x_dir=(1, 0, 0), z_dir=(0, 1, 0))))
    add(extrude_3.mirror(Plane(origin=(0, 0, 0), x_dir=(1, 0, 0), z_dir=(0, 1, 0))))

    # Mirror 1 2: 切除-拉伸1 across Top Plane
    add(cut_extrude_1.mirror(Plane(origin=(0, 0, 0), x_dir=(1, 0, 0), z_dir=(0, 1, 0))), mode=Mode.SUBTRACT)

    # 圆角3 of 镜向1
    fillet_3_of_mirror_1_edges = [mirror_1_1.edges().sort_by_distance(p)[0] for p in [
        (-7.5, -36.5, -7.5),
        (-1.5, -36.5, -7.5),
        (1.5, -36.5, -7.5),
        (7.5, -36.5, -7.5),
        (7.5, -36.5, -1.5),
        (7.5, -36.5, 1.5),
        (7.5, -36.5, 7.5),
        (1.5, -36.5, 7.5),
        (-1.5, -36.5, 7.5),
        (-7.5, -36.5, 7.5),
        (-7.5, -36.5, 1.5),
        (-6.822875656, -36.5, -1.5),
        (-7.5, -36.5, -1.5),
    ]]
    fillet(fillet_3_of_mirror_1_edges, radius=FILLET_3_OF_MIRROR_1_R)

    # 圆角4 of 镜向1
    fillet_4_of_mirror_1_edges = [mirror_1_1.edges().sort_by_distance(p)[0] for p in [
        (-2, -74, -7),
        (-7, -74, -7),
        (-7, -74, -2),
        (-7, -74, 2),
        (-7, -74, 7),
        (-2, -74, 7),
        (2, -74, 7),
        (7, -74, 7),
        (7, -74, 2),
        (7, -74, -2),
        (7, -74, -7),
        (2, -74, -7),
        (-4.5, -75, -7),
        (-7, -75, -4.5),
        (-3, -75, 0),
        (-7, -75, 4.5),
        (-4.5, -75, 7),
        (0, -75, 3),
        (4.5, -75, 7),
        (7, -75, 4.5),
        (3, -75, 0),
        (7, -75, -4.5),
        (4.5, -75, -7),
        (0, -75, -3),
    ]]
    fillet(fillet_4_of_mirror_1_edges, radius=FILLET_4_OF_MIRROR_1_R)

    # 圆角5 of 镜向1
    fillet_5_of_mirror_1_edges = [mirror_1_1.edges().sort_by_distance(p)[0] for p in [
        (1.95, -77.5, 0),
        (0, -77.5, -1.95),
        (0, -77.5, 1.95),
        (-1.95, -77.5, 0),
    ]]
    fillet(fillet_5_of_mirror_1_edges, radius=FILLET_5_OF_MIRROR_1_R)


with BuildPart() as part_1:
    add(part.part)

    # 镜向1 united with what the copies tou: union 镜向1_1
    add(mirror_1_1.part)


solid = part_1.part
